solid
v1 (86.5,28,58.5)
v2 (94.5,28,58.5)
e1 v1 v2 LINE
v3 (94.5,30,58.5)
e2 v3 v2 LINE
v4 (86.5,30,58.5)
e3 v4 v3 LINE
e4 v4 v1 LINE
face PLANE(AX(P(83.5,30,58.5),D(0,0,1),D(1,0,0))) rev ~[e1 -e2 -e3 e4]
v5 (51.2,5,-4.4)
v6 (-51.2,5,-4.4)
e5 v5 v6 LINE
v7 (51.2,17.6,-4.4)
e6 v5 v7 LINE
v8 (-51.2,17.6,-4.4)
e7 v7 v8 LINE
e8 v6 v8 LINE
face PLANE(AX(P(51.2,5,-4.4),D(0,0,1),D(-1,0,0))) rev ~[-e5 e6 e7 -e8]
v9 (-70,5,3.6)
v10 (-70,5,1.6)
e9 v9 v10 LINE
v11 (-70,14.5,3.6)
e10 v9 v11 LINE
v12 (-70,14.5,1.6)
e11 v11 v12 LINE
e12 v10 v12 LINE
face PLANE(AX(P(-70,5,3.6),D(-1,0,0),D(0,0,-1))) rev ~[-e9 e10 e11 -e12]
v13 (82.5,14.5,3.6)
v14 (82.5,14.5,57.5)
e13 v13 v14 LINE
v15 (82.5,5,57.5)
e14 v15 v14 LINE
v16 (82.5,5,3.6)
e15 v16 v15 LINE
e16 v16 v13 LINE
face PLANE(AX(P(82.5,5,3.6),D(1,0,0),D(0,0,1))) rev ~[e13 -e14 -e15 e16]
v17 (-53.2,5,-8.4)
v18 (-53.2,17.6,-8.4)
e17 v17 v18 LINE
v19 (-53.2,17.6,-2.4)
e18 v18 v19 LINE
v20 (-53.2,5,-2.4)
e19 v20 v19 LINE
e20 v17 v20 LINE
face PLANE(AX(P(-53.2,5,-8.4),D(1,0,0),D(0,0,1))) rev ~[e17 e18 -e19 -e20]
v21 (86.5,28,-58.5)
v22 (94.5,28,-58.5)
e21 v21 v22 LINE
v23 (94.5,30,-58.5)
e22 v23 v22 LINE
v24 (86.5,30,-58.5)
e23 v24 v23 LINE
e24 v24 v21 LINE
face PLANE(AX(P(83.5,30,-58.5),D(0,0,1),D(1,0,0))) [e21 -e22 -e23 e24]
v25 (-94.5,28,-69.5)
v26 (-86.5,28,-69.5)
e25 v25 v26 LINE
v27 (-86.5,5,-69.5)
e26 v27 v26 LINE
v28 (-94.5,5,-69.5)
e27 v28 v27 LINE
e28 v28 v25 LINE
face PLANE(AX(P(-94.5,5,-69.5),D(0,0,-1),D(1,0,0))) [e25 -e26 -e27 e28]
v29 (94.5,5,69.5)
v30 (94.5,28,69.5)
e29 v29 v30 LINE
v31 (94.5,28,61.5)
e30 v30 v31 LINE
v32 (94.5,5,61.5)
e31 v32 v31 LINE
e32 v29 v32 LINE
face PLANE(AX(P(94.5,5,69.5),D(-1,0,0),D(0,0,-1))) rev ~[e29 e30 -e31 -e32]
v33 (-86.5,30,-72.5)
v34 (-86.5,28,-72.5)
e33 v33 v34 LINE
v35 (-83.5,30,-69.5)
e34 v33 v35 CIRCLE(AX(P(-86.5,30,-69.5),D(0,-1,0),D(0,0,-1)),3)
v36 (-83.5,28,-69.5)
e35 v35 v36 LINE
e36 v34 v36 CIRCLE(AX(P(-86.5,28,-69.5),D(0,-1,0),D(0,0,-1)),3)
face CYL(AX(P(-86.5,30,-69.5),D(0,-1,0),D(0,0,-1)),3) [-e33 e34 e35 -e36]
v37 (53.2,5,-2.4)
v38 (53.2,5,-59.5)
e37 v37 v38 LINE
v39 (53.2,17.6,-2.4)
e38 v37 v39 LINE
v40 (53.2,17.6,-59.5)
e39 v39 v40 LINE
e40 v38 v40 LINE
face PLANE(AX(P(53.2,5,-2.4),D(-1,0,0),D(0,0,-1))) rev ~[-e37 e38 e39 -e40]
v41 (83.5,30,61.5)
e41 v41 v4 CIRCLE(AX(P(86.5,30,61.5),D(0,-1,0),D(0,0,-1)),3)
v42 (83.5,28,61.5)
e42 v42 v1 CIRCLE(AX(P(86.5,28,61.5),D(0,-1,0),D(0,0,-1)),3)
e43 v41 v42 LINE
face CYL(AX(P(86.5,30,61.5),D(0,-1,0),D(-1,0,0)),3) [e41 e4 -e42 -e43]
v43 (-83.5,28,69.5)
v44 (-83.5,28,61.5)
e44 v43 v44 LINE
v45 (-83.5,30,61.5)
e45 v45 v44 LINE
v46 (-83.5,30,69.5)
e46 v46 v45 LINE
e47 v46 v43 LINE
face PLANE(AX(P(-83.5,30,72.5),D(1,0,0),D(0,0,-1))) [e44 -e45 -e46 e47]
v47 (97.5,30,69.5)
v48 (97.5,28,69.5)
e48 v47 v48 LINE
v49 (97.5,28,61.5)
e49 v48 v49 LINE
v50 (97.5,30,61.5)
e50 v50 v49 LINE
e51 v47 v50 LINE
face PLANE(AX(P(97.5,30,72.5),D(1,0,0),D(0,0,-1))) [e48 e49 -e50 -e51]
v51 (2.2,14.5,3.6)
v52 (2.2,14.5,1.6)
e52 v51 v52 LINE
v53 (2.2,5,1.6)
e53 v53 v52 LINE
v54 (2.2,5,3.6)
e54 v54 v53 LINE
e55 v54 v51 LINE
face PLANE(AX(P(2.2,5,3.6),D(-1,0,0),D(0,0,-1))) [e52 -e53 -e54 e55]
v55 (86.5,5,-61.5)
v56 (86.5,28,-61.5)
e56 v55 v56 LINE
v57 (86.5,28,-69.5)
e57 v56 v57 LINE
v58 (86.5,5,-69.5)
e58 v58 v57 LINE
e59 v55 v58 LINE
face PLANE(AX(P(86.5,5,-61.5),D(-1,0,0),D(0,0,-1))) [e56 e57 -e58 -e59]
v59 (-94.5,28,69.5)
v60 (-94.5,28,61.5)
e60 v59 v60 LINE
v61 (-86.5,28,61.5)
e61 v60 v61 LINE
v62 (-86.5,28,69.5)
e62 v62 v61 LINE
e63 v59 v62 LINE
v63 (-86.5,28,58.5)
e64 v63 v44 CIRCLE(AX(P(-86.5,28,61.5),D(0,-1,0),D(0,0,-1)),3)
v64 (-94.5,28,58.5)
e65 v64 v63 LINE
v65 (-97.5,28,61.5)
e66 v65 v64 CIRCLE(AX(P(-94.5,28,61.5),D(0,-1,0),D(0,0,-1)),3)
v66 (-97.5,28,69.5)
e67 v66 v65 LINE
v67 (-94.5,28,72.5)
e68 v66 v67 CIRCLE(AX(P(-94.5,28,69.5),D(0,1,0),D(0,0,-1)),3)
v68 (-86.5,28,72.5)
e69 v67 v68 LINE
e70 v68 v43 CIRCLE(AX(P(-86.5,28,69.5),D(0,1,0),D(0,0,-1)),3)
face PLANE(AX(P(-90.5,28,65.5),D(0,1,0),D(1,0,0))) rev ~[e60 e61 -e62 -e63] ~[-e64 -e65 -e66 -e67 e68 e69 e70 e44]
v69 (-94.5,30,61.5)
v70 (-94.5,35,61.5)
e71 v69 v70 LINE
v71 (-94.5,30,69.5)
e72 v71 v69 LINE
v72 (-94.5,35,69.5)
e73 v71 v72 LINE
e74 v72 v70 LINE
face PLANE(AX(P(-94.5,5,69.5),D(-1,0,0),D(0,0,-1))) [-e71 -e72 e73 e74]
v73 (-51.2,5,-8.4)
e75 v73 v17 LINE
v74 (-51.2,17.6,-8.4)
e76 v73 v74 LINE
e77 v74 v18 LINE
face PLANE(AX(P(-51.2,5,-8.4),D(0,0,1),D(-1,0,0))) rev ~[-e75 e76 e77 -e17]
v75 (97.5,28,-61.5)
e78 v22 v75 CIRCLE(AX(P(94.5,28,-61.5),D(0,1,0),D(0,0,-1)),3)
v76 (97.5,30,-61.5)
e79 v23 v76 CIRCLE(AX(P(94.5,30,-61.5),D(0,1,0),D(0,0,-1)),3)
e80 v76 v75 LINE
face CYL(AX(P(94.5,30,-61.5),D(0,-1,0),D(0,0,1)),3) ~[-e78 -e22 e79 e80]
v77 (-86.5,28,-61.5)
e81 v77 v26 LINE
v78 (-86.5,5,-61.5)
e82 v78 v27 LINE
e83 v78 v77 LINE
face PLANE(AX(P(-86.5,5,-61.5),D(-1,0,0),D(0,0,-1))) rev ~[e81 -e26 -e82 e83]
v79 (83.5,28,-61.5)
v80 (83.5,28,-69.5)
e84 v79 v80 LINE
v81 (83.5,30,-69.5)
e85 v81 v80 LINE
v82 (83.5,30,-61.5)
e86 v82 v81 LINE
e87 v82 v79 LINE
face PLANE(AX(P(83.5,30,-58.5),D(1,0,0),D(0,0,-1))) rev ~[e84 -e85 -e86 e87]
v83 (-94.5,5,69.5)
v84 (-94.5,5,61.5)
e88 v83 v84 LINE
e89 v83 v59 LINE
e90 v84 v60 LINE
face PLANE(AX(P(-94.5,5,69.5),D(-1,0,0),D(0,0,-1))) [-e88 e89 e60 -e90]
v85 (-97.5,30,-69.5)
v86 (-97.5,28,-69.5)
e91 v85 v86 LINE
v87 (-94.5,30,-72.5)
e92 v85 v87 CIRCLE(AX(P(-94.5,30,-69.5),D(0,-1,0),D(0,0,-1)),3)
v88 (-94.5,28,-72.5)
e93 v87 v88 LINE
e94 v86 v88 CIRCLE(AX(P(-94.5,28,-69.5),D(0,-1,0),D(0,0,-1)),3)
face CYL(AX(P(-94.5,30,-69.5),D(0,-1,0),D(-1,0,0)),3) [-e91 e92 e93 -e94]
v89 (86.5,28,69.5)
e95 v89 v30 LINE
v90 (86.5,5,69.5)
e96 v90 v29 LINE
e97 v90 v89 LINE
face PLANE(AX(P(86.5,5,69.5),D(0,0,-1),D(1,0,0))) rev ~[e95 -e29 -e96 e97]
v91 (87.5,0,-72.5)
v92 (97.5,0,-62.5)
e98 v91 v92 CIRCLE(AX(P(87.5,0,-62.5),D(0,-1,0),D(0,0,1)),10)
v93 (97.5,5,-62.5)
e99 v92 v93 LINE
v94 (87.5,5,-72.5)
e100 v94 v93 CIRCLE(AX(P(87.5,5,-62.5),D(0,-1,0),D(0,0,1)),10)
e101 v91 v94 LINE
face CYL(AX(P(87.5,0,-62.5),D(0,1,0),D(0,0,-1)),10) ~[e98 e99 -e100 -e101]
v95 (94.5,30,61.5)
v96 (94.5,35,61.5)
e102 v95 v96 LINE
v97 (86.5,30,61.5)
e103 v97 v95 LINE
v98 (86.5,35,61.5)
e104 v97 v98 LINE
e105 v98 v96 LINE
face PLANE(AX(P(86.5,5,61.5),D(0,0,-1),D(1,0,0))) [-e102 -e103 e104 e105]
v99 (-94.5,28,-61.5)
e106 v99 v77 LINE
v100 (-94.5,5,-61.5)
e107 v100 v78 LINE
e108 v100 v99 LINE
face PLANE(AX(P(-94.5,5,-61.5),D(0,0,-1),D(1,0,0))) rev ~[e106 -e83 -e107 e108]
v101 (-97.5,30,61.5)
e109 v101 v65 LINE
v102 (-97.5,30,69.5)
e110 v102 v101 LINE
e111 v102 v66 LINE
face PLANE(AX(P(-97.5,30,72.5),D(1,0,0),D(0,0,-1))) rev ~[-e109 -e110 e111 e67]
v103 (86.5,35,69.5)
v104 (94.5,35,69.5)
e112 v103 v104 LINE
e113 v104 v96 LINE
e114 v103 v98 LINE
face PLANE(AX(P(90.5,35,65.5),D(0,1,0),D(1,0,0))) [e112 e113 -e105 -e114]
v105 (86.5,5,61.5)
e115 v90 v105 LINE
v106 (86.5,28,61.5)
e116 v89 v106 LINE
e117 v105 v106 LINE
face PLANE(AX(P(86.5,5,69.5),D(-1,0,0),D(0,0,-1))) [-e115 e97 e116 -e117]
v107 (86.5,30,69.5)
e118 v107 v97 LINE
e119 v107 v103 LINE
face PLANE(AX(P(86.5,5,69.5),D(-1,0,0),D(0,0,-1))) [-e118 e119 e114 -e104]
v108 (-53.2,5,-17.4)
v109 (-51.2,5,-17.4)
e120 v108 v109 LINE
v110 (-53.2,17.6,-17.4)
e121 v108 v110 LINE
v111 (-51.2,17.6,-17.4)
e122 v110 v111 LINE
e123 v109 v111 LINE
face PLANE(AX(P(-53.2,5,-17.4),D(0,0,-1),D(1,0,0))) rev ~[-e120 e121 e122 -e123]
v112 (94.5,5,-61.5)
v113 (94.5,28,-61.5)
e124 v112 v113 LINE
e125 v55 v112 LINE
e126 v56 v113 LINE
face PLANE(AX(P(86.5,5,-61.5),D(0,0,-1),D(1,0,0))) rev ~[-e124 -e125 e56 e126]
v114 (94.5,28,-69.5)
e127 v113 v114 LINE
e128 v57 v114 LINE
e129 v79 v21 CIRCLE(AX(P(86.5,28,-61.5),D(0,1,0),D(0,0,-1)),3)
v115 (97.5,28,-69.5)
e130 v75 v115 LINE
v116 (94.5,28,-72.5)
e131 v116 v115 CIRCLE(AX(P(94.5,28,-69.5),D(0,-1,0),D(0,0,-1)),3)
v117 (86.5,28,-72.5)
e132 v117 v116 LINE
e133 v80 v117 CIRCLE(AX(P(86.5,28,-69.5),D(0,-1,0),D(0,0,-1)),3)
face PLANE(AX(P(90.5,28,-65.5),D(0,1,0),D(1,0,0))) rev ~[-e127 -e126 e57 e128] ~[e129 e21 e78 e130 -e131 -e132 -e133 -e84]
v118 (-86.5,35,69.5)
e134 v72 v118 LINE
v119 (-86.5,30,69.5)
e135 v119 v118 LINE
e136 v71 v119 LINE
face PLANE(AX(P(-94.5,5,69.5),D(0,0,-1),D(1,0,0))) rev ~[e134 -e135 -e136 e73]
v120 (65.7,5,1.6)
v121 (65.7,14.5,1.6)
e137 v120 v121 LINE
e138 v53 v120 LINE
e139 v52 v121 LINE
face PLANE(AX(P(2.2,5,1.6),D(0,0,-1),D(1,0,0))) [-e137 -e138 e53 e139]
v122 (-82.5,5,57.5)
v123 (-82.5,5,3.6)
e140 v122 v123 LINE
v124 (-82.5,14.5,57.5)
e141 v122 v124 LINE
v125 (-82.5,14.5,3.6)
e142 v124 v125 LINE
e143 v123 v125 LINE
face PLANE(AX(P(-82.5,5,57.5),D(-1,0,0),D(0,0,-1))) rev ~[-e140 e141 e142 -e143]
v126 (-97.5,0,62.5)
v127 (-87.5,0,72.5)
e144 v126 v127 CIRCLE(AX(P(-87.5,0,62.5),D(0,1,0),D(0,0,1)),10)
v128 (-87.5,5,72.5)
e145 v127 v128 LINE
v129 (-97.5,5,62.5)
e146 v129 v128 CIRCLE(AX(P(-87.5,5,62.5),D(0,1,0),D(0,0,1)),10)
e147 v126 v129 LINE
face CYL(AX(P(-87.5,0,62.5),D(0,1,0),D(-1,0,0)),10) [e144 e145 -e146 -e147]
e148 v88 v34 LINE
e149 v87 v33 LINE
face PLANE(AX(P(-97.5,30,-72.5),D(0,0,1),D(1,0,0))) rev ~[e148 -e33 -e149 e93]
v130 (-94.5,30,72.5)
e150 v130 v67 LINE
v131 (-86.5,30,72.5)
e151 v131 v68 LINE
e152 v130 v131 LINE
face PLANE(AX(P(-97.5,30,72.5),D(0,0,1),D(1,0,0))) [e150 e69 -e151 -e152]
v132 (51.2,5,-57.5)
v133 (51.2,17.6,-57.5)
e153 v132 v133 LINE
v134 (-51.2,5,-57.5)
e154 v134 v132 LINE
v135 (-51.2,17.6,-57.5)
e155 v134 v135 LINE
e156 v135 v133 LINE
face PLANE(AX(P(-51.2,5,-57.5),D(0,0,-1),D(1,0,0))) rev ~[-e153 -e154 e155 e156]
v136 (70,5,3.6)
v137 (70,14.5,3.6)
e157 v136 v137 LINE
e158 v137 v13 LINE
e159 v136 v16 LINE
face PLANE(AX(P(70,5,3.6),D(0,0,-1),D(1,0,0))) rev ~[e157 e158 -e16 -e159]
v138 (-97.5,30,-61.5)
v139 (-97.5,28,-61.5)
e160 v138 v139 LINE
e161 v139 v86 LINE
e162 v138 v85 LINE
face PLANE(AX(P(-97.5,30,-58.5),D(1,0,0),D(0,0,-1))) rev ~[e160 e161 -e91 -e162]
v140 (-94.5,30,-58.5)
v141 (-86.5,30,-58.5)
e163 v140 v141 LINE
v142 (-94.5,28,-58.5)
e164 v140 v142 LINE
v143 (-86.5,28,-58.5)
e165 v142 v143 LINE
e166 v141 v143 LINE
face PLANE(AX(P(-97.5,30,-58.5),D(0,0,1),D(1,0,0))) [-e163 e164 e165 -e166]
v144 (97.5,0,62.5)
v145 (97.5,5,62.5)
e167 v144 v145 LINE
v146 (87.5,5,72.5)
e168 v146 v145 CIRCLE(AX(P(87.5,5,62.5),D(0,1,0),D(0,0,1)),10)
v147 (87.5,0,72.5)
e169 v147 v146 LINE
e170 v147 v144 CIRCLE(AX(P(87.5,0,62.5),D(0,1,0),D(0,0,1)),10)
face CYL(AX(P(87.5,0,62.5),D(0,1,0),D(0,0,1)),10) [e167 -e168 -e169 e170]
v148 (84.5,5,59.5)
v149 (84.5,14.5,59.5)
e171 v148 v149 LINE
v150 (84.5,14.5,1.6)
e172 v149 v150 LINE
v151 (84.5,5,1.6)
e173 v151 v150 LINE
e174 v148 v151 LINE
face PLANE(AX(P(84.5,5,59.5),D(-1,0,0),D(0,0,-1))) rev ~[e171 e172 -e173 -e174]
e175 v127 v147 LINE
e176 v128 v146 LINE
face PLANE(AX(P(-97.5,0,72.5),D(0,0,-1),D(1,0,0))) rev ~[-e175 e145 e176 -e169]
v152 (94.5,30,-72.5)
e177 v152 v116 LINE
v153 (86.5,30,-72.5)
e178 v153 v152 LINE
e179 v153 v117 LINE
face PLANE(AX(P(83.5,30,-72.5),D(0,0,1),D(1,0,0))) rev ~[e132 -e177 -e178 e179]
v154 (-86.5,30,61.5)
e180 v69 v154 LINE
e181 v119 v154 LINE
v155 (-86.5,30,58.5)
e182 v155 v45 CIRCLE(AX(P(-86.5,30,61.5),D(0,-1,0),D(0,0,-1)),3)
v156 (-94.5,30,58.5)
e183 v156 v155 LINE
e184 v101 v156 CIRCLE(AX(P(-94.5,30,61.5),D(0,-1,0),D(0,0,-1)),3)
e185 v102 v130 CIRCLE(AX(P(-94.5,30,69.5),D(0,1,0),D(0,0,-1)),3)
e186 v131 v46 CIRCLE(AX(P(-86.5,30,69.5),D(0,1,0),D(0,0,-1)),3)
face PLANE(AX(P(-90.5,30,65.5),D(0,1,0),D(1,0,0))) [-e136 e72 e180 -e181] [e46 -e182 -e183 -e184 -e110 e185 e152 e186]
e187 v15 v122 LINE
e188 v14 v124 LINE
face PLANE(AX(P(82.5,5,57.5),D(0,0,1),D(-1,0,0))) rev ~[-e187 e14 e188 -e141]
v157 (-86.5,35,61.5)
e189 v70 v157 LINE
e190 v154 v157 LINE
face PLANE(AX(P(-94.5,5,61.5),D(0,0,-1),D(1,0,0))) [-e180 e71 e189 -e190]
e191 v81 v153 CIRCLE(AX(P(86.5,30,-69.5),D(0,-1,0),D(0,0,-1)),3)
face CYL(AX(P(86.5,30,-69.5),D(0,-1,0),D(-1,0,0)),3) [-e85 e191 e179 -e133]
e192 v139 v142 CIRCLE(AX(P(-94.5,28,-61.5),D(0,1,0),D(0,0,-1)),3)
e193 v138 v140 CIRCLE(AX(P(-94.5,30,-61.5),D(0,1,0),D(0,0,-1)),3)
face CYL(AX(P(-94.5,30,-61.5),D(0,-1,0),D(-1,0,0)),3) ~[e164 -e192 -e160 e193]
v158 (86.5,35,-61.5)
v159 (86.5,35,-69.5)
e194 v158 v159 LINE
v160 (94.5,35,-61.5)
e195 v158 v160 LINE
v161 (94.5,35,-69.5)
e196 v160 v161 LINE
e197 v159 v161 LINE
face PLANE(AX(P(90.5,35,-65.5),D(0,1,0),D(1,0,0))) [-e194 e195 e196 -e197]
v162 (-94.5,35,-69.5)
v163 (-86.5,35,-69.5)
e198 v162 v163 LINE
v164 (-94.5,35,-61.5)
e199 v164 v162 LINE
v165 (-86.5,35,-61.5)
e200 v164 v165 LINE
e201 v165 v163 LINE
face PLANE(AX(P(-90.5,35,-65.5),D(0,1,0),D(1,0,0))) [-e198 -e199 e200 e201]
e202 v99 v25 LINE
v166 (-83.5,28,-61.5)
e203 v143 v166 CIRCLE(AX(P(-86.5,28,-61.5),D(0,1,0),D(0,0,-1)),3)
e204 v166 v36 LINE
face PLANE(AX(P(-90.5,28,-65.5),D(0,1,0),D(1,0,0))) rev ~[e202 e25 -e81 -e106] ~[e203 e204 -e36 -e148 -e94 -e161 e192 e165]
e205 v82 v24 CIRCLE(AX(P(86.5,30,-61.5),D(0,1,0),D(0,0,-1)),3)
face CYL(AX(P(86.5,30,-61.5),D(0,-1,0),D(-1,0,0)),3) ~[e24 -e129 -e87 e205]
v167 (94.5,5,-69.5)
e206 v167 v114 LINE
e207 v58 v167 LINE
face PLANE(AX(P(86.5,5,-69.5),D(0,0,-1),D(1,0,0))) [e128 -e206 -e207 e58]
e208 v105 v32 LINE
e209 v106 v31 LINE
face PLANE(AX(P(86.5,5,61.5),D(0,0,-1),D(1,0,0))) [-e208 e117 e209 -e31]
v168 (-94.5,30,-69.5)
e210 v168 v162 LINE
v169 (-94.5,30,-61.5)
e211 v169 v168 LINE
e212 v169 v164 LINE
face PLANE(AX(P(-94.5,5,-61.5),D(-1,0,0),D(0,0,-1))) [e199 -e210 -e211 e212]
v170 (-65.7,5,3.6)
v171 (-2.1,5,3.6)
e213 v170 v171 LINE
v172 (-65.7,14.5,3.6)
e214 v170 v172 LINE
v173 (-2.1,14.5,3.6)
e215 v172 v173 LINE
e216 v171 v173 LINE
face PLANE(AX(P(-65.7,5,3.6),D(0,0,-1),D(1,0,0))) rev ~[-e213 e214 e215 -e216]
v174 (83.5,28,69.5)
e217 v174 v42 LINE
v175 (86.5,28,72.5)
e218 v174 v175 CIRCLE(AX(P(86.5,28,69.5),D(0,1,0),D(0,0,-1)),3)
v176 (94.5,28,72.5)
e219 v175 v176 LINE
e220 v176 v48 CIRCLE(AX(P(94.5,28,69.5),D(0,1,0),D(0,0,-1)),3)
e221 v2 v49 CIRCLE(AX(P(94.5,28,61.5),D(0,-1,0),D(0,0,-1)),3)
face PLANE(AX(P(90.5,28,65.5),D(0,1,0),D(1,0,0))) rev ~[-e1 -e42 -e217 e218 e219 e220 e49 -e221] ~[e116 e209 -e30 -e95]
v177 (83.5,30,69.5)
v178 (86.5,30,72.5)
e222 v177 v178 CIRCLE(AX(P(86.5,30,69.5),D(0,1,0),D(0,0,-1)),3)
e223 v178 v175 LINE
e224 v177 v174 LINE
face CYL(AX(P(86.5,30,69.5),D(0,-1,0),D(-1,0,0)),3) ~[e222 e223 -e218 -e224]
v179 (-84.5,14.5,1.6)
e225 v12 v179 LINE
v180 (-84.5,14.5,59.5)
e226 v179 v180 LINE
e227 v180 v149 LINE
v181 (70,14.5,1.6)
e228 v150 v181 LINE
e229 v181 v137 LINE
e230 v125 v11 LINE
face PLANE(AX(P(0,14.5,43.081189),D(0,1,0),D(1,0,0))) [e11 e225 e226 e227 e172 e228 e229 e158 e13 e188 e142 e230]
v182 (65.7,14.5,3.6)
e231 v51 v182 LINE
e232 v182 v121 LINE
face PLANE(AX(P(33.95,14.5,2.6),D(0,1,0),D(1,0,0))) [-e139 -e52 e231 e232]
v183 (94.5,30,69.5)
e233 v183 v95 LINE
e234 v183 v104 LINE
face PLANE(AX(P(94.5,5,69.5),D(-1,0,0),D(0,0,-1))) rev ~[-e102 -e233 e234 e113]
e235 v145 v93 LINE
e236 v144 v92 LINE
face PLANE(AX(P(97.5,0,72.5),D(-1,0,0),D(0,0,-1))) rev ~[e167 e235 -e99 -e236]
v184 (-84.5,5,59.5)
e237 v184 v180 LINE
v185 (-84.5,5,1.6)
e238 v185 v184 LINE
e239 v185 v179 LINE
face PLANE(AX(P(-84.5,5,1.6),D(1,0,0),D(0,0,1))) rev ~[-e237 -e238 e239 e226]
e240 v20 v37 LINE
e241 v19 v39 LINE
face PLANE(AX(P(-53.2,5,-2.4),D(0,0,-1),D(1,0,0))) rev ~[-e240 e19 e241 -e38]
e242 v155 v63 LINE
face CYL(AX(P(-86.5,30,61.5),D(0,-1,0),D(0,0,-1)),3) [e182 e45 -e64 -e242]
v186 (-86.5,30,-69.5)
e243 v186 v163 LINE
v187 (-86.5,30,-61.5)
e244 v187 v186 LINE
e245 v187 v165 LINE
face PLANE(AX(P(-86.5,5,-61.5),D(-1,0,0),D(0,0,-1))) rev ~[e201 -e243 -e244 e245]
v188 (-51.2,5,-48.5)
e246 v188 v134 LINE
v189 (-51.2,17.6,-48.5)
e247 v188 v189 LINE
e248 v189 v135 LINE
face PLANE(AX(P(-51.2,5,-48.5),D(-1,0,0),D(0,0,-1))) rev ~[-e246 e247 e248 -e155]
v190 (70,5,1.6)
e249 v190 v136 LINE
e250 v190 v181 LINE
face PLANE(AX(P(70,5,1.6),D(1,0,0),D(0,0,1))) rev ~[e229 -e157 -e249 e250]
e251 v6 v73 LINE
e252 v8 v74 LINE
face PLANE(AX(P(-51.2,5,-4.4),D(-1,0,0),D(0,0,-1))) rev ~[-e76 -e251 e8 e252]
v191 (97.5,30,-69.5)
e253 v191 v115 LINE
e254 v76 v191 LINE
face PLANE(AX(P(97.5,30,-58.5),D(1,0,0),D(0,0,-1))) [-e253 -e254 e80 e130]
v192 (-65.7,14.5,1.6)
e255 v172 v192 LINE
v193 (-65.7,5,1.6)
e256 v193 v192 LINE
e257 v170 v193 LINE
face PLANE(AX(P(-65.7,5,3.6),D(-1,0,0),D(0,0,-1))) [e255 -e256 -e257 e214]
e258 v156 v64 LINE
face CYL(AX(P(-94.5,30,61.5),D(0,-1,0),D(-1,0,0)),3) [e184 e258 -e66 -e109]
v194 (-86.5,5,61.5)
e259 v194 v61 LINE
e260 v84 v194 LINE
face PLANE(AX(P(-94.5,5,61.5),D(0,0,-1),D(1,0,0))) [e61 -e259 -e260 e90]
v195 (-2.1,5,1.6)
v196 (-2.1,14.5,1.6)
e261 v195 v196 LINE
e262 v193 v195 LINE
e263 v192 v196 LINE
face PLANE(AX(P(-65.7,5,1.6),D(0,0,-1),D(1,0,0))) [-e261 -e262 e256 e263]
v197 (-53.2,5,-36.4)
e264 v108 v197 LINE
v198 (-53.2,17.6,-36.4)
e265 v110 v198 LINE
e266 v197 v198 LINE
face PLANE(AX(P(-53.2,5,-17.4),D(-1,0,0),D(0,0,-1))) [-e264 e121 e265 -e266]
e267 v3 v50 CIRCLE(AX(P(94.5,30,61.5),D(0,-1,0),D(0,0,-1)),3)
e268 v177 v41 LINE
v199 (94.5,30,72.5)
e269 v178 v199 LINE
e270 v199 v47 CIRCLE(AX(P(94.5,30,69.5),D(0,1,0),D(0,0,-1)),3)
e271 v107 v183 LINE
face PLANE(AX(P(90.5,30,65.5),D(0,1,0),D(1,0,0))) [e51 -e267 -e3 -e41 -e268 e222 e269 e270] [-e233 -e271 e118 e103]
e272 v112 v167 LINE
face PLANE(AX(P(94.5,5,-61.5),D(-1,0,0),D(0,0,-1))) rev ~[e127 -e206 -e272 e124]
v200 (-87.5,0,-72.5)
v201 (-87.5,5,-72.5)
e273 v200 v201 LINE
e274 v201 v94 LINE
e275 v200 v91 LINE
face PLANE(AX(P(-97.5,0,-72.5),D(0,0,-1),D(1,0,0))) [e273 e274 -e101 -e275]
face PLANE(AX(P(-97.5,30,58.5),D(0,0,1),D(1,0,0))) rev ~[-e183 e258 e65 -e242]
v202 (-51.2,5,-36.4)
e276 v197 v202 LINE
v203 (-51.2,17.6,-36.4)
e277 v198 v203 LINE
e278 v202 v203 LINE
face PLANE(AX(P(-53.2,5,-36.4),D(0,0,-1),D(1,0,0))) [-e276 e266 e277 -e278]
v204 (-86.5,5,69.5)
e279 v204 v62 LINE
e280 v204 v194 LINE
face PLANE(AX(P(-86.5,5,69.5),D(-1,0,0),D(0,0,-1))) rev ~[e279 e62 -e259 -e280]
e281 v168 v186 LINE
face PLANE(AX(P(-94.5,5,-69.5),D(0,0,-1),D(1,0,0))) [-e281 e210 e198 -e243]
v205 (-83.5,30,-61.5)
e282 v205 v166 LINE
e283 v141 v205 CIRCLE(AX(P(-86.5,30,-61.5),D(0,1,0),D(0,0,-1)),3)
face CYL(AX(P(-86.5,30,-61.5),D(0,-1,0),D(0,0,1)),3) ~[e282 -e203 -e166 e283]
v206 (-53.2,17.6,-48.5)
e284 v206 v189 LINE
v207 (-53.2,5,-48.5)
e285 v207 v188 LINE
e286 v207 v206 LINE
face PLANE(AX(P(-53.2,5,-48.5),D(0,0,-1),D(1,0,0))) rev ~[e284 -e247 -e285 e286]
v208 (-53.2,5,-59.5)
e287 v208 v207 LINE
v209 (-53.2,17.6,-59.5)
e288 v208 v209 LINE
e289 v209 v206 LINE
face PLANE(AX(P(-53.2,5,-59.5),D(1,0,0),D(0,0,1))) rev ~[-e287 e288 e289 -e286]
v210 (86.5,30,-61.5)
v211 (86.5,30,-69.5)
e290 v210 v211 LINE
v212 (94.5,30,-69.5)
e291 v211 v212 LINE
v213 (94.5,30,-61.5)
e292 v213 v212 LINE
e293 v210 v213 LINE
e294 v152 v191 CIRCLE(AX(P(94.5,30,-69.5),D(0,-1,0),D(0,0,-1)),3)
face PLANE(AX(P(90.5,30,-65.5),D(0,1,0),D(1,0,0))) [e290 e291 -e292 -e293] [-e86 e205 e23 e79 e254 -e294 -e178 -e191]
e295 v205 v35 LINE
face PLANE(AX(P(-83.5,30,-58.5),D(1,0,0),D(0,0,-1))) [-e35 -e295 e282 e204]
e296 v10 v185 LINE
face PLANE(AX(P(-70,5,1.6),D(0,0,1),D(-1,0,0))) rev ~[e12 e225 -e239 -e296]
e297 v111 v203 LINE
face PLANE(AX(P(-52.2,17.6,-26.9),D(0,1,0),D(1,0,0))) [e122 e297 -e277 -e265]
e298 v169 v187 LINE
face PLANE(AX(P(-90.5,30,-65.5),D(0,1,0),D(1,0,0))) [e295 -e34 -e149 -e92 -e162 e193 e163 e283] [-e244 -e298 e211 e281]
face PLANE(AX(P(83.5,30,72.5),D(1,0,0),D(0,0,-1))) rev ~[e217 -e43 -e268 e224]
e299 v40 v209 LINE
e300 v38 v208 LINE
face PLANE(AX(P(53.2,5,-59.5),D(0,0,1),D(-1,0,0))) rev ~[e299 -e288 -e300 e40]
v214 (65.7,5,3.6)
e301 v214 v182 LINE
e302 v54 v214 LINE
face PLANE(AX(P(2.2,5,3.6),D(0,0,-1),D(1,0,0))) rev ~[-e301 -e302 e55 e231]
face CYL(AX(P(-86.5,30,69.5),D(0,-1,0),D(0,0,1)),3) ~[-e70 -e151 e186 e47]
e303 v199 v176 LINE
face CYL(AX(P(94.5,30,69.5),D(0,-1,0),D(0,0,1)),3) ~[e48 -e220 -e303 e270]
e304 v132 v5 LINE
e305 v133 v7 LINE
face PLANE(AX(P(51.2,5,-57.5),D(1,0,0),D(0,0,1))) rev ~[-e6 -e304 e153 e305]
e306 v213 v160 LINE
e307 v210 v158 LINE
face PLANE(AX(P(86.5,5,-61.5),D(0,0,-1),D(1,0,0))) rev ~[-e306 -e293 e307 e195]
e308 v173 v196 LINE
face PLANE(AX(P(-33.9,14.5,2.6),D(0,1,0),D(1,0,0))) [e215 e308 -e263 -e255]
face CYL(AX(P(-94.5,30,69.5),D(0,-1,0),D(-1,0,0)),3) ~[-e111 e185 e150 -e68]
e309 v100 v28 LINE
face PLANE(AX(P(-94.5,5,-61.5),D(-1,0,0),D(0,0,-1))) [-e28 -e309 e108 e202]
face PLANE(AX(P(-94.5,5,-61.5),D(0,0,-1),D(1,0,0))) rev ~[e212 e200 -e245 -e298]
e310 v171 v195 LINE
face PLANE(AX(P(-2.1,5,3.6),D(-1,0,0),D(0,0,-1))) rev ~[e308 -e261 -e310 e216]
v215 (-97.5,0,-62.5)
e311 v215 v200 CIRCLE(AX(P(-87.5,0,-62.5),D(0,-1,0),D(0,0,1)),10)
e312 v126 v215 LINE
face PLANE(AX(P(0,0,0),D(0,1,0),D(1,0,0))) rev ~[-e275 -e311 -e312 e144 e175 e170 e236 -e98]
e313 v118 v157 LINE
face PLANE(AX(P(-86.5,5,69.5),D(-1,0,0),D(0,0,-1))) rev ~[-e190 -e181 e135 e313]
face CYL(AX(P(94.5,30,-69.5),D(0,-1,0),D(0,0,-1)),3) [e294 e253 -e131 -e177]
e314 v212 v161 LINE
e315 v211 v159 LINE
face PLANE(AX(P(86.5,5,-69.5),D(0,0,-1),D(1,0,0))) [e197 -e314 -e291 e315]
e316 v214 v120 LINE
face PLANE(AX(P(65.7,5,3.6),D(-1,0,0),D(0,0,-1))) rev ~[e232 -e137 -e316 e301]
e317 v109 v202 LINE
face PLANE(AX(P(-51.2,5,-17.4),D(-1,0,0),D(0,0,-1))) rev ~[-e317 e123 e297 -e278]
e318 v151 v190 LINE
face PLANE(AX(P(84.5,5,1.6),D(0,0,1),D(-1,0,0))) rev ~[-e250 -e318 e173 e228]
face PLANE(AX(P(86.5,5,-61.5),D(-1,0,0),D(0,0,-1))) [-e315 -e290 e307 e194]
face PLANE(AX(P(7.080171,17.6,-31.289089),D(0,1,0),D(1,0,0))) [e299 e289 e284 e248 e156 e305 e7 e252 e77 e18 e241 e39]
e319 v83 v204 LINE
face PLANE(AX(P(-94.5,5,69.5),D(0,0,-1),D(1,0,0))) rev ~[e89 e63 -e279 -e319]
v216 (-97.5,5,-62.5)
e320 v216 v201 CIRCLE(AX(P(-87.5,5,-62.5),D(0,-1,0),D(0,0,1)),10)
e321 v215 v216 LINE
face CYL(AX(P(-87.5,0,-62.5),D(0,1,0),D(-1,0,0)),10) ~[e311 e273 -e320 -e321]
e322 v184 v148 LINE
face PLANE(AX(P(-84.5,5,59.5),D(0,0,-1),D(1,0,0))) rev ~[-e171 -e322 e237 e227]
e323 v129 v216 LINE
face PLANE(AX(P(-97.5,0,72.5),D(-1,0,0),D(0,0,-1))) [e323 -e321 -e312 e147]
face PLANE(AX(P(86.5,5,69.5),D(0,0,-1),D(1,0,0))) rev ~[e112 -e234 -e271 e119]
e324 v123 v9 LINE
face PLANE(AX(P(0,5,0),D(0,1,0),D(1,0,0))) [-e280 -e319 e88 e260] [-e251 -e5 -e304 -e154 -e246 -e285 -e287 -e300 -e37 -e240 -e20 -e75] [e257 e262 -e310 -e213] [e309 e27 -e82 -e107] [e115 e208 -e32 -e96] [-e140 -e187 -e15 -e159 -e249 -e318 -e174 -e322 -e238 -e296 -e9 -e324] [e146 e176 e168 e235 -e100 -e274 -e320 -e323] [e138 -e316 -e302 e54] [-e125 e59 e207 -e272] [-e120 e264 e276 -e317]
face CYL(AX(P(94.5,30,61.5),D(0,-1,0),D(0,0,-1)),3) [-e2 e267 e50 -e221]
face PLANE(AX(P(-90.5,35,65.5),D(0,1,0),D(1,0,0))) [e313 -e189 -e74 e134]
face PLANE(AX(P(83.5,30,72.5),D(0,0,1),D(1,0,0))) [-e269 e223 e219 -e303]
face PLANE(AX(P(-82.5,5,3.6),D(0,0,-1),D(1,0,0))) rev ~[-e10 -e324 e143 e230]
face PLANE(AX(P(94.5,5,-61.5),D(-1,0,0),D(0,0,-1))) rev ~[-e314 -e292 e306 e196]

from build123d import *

# Parameters (mm, degrees)
SKETCH1_W            = 195
SKETCH1_H            = 145
BOSS_EXTRUDE1_DEPTH  = 5
SKETCH2_W            = 63.6
SKETCH2_H            = 2
SKETCH2_W_2          = 63.5
BOSS_EXTRUDE2_DEPTH  = 9.5
SKETCH4_W            = 8
SKETCH4_H            = 8
BOSS_EXTRUDE3_DEPTH  = 30
SKETCH3_W            = 2
SKETCH3_H            = 19
BOSS_EXTRUDE11_DEPTH = 12.6
SKETCH8_W            = 14
SKETCH8_H            = 14
SKETCH8_W_2          = 8
SKETCH8_H_2          = 8
BOSS_EXTRUDE12_DEPTH = 2
FILLET2_R            = 10
FILLET3_R            = 3


with BuildPart() as part:
    # Sketch1 → Boss-Extrude1 (new body)
    with BuildSketch(Plane(origin=(0, 0, 0), x_dir=(1, 0, 0), z_dir=(0, 1, 0))):
        Rectangle(SKETCH1_W, SKETCH1_H)
    extrude(amount=BOSS_EXTRUDE1_DEPTH)

    # Sketch2 → Boss-Extrude2 (add)
    with BuildSketch(Plane(origin=(0, 5, 0), x_dir=(1, 0, 0), z_dir=(0, 1, 0))):
        Polygon((-82.5, -57.5), (-82.5, -3.6), (-70, -3.6), (-70, -1.6), (-84.5, -1.6), (-84.5, -59.5), (84.5, -59.5), (84.5, -1.6), (70, -1.6), (70, -3.6), (82.5, -3.6), (82.5, -57.5), align=None)
        with Locations((-33.9, -2.6)):
            Rectangle(SKETCH2_W, SKETCH2_H)
        with Locations((33.95, -2.6)):
            Rectangle(SKETCH2_W_2, SKETCH2_H)
    extrude(amount=BOSS_EXTRUDE2_DEPTH)

    # Sketch4 → Boss-Extrude3 (add)
    with BuildSketch(Plane(origin=(0, 5, 0), x_dir=(1, 0, 0), z_dir=(0, 1, 0))):
        with Locations((-90.5, -65.5)):
            Rectangle(SKETCH4_W, SKETCH4_H)
        with Locations((90.5, -65.5)):
            Rectangle(SKETCH4_W, SKETCH4_H)
        with Locations((90.5, 65.5)):
            Rectangle(SKETCH4_W, SKETCH4_H)
        with Locations((-90.5, 65.5)):
            Rectangle(SKETCH4_W, SKETCH4_H)
    extrude(amount=BOSS_EXTRUDE3_DEPTH)

    # Sketch3 → Boss-Extrude11 (add)
    with BuildSketch(Plane(origin=(0, 5, 0), x_dir=(1, 0, 0), z_dir=(0, 1, 0))):
        with Locations((-52.2, 26.9)):
            Rectangle(SKETCH3_W, SKETCH3_H)
        Polygon((-51.2, 48.5), (-51.2, 57.5), (51.2, 57.5), (51.2, 4.4), (-51.2, 4.4), (-51.2, 8.4), (-53.2, 8.4), (-53.2, 2.4), (53.2, 2.4), (53.2, 59.5), (-53.2, 59.5), (-53.2, 48.5), align=None)
    extrude(amount=BOSS_EXTRUDE11_DEPTH)

    # Sketch8 → Boss-Extrude12 (add)
    with BuildSketch(Plane(origin=(0, 30, 0), x_dir=(1, 0, 0), z_dir=(0, 1, 0))):
        with Locations((90.5, 65.5)):
            Rectangle(SKETCH8_W, SKETCH8_H)
        with Locations((90.5, 65.5)):
            Rectangle(SKETCH8_W_2, SKETCH8_H_2, mode=Mode.SUBTRACT)
        with Locations((90.5, -65.5)):
            Rectangle(SKETCH8_W, SKETCH8_H)
        with Locations((90.5, -65.5)):
            Rectangle(SKETCH8_W_2, SKETCH8_H_2, mode=Mode.SUBTRACT)
        with Locations((-90.5, -65.5)):
            Rectangle(SKETCH8_W, SKETCH8_H)
        with Locations((-90.5, -65.5)):
            Rectangle(SKETCH8_W_2, SKETCH8_H_2, mode=Mode.SUBTRACT)
        with Locations((-90.5, 65.5)):
            Rectangle(SKETCH8_W, SKETCH8_H)
        with Locations((-90.5, 65.5)):
            Rectangle(SKETCH8_W_2, SKETCH8_H_2, mode=Mode.SUBTRACT)
    extrude(amount=-BOSS_EXTRUDE12_DEPTH)

    # Fillet2
    fillet2_edges = [part.edges().sort_by_distance(p)[0] for p in [
        (-97.5, 2.5, -72.5),
        (97.5, 2.5, -72.5),
        (97.5, 2.5, 72.5),
        (-97.5, 2.5, 72.5),
    ]]
    fillet(fillet2_edges, radius=FILLET2_R)

    # Fillet3
    fillet3_edges = [part.edges().sort_by_distance(p)[0] for p in [
        (97.5, 29, -58.5),
        (83.5, 29, -58.5),
        (83.5, 29, -72.5),
        (97.5, 29, -72.5),
        (83.5, 29, 58.5),
        (97.5, 29, 58.5),
        (97.5, 29, 72.5),
        (83.5, 29, 72.5),
        (-97.5, 29, 58.5),
        (-83.5, 29, 58.5),
        (-83.5, 29, 72.5),
        (-97.5, 29, 72.5),
        (-83.5, 29, -58.5),
        (-97.5, 29, -58.5),
        (-97.5, 29, -72.5),
        (-83.5, 29, -72.5),
    ]]
    fillet(fillet3_edges, radius=FILLET3_R)


solid = part.part
